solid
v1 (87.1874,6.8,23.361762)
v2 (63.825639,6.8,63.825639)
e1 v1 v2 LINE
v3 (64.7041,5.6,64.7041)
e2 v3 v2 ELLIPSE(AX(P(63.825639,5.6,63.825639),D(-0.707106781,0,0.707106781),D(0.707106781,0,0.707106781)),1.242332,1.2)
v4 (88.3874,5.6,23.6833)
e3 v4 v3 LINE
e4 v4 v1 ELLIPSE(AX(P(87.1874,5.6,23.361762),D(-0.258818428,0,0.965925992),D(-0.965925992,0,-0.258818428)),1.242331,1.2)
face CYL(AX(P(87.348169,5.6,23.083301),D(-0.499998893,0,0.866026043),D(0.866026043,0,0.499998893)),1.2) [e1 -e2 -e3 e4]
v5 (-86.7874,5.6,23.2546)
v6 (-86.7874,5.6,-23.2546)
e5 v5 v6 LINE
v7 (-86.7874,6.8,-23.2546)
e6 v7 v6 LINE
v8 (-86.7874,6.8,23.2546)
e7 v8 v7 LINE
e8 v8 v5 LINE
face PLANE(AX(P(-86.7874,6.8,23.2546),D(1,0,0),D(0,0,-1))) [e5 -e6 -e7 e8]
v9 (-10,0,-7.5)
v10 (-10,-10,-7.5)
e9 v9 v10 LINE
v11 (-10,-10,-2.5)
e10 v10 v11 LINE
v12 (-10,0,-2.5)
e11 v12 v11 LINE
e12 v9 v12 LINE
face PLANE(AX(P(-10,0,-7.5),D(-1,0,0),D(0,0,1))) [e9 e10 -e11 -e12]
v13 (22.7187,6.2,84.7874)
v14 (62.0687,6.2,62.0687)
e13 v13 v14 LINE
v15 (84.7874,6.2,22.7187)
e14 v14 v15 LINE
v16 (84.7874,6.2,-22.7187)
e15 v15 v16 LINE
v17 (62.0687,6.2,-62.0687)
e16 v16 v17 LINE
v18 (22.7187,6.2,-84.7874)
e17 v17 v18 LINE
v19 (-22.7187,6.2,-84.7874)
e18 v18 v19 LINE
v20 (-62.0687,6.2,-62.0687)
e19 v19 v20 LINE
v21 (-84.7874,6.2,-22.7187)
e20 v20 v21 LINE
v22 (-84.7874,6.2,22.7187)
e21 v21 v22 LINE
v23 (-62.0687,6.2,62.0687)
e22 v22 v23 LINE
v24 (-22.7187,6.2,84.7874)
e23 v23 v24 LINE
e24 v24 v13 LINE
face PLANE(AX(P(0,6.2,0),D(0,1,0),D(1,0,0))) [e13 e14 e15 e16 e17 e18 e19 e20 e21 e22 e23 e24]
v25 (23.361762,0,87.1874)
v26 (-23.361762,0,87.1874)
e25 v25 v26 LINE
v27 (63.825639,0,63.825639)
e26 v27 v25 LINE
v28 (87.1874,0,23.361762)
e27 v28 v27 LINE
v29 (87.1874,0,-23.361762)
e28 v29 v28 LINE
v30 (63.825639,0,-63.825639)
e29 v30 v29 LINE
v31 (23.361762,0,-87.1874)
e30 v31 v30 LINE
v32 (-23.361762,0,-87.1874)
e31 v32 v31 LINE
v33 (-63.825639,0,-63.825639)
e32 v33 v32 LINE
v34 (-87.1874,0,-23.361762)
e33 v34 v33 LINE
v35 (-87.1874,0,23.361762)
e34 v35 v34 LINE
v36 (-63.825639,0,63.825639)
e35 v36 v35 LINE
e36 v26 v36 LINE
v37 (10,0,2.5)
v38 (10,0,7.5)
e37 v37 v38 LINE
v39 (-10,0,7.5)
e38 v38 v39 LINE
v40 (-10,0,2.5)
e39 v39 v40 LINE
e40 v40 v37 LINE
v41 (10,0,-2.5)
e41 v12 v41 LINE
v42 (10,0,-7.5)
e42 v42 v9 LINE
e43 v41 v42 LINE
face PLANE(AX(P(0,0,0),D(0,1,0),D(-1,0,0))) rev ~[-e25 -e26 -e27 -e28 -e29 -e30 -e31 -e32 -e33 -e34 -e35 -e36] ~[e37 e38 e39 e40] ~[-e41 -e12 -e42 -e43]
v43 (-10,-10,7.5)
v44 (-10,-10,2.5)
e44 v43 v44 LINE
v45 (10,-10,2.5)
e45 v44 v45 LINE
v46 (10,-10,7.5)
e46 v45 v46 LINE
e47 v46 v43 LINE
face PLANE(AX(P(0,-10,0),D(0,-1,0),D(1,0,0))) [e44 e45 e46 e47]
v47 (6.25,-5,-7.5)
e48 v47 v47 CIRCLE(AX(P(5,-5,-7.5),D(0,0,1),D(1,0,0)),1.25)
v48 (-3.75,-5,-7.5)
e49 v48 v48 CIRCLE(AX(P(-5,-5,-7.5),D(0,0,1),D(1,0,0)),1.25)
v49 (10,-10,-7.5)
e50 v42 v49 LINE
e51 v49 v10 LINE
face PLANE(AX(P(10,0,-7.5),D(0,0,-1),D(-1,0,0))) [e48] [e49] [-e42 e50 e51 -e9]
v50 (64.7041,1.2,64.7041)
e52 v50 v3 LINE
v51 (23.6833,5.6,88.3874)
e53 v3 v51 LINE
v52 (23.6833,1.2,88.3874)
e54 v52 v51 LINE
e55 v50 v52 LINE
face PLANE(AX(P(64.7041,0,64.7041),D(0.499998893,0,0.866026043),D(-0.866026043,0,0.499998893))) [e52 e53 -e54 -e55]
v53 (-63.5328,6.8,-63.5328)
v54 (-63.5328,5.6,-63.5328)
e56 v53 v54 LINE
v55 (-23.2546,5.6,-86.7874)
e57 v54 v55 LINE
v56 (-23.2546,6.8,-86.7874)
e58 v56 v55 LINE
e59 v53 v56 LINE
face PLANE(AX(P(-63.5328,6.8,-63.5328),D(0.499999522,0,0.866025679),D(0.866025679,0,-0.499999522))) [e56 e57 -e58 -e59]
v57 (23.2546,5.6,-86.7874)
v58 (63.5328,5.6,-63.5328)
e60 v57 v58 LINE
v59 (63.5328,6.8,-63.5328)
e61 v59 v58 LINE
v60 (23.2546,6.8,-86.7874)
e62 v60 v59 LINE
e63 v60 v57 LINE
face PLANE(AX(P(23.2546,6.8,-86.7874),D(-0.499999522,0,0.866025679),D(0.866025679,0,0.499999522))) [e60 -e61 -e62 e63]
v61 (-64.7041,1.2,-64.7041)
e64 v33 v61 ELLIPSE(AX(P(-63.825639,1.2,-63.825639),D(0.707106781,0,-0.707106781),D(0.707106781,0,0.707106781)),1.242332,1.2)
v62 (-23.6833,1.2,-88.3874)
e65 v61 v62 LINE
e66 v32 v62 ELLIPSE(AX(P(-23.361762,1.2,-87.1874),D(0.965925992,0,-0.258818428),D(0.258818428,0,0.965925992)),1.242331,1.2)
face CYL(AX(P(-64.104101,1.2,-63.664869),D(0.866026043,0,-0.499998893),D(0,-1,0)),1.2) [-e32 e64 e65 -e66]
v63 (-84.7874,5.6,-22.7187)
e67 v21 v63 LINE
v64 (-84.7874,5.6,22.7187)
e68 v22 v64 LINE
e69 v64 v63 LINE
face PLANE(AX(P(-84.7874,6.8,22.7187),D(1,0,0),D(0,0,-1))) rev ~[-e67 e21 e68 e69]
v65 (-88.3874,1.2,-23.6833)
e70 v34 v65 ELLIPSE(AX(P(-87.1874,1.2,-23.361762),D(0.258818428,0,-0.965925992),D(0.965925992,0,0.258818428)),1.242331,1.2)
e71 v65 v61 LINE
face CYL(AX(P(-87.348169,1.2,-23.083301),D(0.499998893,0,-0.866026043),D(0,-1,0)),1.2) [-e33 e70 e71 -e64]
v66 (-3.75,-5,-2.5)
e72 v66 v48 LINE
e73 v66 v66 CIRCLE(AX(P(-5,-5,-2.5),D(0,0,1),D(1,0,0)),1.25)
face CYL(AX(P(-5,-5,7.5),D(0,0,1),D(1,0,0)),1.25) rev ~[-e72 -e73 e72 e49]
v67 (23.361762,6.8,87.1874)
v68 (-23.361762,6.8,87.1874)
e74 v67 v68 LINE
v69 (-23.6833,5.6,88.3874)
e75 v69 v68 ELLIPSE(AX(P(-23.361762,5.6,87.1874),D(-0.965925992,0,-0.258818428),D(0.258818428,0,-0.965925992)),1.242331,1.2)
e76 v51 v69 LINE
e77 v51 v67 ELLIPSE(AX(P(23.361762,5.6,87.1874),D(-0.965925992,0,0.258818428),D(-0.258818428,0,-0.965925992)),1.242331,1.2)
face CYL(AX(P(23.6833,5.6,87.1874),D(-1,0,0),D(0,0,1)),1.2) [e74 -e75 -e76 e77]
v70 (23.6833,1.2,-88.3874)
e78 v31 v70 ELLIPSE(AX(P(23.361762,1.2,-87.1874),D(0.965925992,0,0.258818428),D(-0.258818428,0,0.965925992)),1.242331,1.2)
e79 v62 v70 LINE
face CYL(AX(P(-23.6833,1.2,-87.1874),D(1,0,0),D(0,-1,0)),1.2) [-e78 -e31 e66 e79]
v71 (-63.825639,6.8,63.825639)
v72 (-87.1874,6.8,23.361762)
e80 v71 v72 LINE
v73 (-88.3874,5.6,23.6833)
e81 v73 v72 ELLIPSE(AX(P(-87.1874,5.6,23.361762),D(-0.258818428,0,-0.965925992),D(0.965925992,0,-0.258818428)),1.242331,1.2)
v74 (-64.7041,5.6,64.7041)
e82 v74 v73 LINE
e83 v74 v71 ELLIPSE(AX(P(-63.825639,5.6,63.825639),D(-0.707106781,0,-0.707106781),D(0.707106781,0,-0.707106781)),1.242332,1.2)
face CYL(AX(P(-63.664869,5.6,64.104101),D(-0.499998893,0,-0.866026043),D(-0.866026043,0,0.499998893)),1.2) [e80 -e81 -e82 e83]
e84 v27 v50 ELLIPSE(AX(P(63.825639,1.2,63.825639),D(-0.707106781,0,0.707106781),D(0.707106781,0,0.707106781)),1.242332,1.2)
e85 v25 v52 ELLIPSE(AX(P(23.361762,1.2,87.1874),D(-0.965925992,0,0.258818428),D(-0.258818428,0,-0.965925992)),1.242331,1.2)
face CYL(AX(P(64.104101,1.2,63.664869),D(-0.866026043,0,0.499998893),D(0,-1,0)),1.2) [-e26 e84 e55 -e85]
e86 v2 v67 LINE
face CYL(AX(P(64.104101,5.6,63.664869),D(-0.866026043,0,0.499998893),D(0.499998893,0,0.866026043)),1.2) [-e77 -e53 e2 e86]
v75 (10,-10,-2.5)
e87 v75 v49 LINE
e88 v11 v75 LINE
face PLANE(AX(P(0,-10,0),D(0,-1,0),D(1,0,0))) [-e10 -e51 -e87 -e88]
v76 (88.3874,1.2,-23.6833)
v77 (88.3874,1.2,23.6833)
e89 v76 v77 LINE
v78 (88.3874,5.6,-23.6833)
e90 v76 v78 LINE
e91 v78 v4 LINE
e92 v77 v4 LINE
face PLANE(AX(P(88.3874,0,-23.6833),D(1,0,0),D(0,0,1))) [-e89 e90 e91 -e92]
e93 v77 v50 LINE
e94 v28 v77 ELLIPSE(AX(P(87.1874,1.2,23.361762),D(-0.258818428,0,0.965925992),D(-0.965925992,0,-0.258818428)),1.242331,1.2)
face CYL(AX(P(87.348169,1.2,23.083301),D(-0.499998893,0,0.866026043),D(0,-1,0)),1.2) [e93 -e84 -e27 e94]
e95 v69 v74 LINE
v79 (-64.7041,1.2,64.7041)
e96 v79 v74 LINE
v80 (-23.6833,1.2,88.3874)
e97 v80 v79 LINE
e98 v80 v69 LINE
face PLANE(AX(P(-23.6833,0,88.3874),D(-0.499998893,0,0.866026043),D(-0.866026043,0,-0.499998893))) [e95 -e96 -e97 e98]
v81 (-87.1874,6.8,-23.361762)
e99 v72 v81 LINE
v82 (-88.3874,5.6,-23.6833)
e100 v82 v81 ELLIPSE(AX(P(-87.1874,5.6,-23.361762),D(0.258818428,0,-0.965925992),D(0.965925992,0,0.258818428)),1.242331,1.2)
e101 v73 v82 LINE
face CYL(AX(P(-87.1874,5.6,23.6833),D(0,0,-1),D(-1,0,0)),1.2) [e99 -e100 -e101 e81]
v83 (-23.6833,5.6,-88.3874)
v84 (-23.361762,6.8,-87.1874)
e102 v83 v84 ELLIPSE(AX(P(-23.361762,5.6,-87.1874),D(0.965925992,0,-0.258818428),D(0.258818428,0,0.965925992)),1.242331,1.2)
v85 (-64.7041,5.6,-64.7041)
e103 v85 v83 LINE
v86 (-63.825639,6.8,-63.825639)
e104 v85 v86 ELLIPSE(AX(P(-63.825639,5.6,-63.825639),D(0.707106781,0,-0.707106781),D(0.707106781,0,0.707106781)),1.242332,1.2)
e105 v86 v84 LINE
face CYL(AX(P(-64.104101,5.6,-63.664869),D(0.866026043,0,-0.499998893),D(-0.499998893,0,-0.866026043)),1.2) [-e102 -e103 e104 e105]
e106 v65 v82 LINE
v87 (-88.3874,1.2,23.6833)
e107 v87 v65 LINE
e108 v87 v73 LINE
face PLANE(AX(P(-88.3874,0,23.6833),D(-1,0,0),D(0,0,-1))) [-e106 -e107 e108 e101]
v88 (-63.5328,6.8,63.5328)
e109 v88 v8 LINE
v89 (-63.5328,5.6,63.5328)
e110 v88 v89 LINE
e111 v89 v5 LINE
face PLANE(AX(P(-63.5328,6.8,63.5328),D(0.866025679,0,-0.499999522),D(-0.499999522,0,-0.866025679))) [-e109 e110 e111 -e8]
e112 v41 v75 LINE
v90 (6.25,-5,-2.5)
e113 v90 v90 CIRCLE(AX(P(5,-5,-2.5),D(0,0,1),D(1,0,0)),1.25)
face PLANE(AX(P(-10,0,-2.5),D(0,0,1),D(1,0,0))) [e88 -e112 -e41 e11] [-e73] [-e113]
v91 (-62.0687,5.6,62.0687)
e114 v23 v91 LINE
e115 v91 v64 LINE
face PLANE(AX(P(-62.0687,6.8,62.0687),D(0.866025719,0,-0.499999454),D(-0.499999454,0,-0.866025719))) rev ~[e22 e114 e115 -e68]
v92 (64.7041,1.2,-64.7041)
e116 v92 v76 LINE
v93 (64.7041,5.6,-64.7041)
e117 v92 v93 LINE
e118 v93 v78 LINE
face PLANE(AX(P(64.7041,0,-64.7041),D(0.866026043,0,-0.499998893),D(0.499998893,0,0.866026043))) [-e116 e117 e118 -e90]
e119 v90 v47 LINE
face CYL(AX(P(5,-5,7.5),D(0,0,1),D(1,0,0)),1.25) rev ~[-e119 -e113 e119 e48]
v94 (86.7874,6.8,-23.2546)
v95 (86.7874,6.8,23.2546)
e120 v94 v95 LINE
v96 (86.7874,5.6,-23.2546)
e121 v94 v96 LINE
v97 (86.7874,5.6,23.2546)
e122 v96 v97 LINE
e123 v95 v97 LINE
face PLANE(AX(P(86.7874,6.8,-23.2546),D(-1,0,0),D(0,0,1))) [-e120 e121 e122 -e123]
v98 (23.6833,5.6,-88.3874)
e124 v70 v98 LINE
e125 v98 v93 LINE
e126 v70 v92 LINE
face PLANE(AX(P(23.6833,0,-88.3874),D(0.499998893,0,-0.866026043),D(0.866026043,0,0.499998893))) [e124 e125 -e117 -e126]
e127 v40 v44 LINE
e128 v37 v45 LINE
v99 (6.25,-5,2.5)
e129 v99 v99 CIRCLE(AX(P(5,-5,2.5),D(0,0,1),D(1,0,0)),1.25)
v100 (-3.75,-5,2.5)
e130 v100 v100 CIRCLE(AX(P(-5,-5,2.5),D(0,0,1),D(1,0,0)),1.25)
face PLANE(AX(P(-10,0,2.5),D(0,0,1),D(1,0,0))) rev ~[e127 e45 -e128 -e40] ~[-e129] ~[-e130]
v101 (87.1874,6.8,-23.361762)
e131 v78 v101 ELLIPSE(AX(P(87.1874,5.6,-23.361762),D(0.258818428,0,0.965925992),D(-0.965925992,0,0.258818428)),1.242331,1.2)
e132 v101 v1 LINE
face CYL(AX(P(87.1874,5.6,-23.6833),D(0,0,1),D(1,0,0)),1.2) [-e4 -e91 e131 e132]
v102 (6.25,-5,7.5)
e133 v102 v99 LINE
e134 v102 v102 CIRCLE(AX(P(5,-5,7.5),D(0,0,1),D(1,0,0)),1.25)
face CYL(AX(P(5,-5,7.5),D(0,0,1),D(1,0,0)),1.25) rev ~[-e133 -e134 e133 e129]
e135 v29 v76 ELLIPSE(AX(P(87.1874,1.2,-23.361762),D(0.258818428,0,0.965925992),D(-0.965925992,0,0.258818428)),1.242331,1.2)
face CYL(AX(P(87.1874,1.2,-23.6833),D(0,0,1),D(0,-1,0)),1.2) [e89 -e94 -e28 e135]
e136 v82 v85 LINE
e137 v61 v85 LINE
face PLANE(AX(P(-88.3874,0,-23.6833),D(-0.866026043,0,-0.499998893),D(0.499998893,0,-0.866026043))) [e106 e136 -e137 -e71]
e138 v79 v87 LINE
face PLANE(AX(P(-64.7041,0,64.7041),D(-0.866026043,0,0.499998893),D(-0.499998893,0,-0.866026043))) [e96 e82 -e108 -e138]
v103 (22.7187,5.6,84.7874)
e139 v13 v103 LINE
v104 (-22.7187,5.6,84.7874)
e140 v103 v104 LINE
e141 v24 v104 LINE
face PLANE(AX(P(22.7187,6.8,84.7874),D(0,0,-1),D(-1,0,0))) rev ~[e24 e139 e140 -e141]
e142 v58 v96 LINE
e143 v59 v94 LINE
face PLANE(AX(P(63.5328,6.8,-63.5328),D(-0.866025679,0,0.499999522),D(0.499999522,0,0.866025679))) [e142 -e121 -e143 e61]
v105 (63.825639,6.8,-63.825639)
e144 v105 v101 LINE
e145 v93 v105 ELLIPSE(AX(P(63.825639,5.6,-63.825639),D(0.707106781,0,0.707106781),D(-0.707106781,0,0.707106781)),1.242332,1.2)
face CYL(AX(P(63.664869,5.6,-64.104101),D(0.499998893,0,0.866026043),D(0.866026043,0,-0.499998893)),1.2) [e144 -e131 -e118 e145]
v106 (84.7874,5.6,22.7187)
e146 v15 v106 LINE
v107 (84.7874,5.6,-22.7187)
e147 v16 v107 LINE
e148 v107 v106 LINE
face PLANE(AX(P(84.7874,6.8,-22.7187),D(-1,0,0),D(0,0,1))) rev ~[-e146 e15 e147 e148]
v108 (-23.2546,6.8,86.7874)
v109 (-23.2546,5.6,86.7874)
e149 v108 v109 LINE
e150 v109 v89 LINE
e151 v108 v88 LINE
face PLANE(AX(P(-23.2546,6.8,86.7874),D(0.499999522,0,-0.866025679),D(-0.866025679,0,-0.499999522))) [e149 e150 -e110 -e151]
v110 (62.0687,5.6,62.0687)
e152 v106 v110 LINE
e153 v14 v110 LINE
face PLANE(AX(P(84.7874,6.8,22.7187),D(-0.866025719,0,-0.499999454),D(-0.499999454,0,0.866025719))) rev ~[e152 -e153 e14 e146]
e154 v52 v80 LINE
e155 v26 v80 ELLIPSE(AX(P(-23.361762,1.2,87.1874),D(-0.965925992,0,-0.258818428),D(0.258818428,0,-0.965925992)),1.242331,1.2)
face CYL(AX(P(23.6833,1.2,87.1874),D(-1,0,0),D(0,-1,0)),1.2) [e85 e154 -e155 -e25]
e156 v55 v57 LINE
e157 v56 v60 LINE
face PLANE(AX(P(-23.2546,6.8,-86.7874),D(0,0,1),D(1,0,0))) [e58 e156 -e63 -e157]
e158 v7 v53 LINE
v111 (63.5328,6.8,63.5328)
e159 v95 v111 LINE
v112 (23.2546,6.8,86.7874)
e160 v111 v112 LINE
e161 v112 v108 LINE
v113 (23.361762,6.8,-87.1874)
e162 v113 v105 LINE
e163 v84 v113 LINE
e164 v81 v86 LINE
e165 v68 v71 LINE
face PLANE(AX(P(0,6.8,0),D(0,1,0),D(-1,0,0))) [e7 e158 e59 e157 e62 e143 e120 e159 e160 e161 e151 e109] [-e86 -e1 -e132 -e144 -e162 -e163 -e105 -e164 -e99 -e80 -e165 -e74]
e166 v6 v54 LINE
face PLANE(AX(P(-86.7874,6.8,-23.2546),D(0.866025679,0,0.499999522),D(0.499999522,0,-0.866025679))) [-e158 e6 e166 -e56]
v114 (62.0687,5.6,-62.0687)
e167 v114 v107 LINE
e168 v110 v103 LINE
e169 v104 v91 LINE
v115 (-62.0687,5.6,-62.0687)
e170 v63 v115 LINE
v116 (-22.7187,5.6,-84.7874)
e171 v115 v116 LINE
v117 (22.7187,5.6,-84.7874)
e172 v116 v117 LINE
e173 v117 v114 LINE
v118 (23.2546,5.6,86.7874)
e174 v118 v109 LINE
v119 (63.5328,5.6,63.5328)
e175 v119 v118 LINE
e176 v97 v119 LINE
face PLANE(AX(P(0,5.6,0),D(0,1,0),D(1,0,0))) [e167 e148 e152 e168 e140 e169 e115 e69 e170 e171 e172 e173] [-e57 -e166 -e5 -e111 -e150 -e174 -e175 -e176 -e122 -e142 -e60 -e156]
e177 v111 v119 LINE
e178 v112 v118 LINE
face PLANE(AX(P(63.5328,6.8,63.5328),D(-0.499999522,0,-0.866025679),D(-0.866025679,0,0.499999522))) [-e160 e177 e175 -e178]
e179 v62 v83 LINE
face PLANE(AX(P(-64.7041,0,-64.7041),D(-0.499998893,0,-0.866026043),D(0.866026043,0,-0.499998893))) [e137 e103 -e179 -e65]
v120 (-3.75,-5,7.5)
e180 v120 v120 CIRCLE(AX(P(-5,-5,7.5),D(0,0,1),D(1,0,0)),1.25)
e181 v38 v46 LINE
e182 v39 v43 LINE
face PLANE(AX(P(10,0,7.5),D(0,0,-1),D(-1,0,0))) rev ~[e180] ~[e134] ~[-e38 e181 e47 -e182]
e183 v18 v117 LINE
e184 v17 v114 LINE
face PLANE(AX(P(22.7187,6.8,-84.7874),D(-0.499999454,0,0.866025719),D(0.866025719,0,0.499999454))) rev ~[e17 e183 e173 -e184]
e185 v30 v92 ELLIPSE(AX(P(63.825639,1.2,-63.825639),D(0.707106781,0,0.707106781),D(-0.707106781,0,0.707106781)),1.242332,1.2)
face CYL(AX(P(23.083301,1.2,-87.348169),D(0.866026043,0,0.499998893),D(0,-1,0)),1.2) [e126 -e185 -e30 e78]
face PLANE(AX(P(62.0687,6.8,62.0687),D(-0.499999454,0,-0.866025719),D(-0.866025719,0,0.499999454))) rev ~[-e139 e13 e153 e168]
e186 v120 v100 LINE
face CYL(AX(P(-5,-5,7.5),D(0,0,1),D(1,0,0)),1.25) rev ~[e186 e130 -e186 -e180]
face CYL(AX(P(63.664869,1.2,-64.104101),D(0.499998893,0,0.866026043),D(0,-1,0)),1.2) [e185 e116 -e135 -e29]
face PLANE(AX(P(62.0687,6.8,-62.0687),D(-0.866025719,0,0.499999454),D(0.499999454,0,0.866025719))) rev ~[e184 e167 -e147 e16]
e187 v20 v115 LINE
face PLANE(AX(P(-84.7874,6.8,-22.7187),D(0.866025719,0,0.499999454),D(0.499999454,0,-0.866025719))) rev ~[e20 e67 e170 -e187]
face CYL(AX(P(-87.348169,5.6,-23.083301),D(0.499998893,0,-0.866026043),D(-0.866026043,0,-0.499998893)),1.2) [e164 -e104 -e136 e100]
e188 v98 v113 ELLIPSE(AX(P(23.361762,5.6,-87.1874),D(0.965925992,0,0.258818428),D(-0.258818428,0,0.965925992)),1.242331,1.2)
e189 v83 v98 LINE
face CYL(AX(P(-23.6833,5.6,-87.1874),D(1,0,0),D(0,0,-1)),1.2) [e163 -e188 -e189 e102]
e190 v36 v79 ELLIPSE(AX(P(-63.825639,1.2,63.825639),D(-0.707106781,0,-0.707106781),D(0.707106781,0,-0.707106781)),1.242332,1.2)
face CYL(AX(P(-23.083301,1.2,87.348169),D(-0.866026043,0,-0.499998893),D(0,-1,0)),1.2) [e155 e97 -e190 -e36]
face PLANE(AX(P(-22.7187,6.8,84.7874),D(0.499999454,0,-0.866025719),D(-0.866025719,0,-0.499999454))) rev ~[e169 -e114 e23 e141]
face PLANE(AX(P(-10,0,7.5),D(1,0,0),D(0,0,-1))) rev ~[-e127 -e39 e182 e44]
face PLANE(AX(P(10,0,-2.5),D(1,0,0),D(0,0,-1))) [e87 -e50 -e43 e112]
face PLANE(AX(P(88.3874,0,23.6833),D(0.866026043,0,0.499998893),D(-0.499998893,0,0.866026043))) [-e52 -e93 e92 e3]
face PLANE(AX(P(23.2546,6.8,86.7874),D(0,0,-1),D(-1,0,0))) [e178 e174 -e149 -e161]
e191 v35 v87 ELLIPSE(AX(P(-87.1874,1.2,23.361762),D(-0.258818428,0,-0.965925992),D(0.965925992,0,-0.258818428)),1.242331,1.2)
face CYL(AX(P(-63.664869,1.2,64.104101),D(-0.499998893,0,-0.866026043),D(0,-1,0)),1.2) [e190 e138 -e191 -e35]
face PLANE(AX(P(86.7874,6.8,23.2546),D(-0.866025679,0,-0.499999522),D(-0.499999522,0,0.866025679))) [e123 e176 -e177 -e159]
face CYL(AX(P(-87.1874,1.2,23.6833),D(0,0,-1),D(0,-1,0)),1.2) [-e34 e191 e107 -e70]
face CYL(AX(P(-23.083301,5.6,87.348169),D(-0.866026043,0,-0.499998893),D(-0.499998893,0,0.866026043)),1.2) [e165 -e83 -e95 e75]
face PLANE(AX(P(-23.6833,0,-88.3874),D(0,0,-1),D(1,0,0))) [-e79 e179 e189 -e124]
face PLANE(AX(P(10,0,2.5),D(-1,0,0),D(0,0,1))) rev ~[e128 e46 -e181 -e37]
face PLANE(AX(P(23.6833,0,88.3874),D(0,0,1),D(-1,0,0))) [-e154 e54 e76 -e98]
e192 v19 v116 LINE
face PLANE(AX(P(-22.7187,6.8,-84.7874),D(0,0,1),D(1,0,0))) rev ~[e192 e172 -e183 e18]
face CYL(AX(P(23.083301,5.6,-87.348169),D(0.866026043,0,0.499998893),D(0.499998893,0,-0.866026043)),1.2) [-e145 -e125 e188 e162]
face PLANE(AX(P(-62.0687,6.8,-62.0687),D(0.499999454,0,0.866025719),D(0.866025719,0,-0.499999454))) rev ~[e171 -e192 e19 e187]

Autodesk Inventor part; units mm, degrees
ref_plane "YZ Plane" through (0, 0, 0) normal (1, 0, 0) x (0, 1, 0)
ref_plane "XZ Plane" through (0, 0, 0) normal (0, 1, 0) x (-1, 0, 0)
ref_plane "XY Plane" through (0, 0, 0) normal (0, 0, 1) x (1, 0, 0)
sketch "스케치1" plane through (0, 0, 0) normal (0, 1, 0) x (-1, 0, 0)
  line L0 (-62.3615, 62.3615) -> (-22.8259, 85.1874)
  line L1 (-22.8259, 85.1874) -> (22.8259, 85.1874)
  line L2 (22.8259, 85.1874) -> (62.3615, 62.3615)
  line L3 (62.3615, 62.3615) -> (85.1874, 22.8259)
  line L4 (85.1874, 22.8259) -> (85.1874, -22.8259)
  line L5 (85.1874, -22.8259) -> (62.3615, -62.3615)
  line L6 (62.3615, -62.3615) -> (22.8259, -85.1874)
  line L7 (22.8259, -85.1874) -> (-22.8259, -85.1874)
  line L8 (-22.8259, -85.1874) -> (-62.3615, -62.3615)
  line L9 (-62.3615, -62.3615) -> (-85.1874, -22.8259)
  line L10 (-85.1874, -22.8259) -> (-85.1874, 22.8259)
  line L11 (-85.1874, 22.8259) -> (-62.3615, 62.3615)
  line L12 (88.3874, -23.6833) -> (64.7041, -64.7041)
  line L13 (64.7041, -64.7041) -> (23.6833, -88.3874)
  line L14 (23.6833, -88.3874) -> (-23.6833, -88.3874)
  line L15 (-23.6833, -88.3874) -> (-64.7041, -64.7041)
  line L16 (-64.7041, -64.7041) -> (-88.3874, -23.6833)
  line L17 (-88.3874, -23.6833) -> (-88.3874, 23.6833)
  line L18 (-88.3874, 23.6833) -> (-64.7041, 64.7041)
  line L19 (-64.7041, 64.7041) -> (-23.6833, 88.3874)
  line L20 (-23.6833, 88.3874) -> (23.6833, 88.3874)
  line L21 (23.6833, 88.3874) -> (64.7041, 64.7041)
  line L22 (64.7041, 64.7041) -> (88.3874, 23.6833)
  line L23 (88.3874, 23.6833) -> (88.3874, -23.6833)
  point P0 (0, 0)
  point P1 (0, 0)
  point P2 (0, 0)
  dimension "d0" = 176.385
  dimension "d1" = 3.2
extrude "돌출1" add sketch "스케치1" along normal blind 6.8 contours L0 L1 L2 L3 L4 L5 L6 L7 L8 L9 L10 L11 | L12 L13 L14 L15 L16 L17 L18 L19 L20 L21 L22 L23
sketch "스케치2" plane through (0, 6.8, 0) normal (0, 1, 0) x (1, 0, 0)
  line L0 (-23.2546, 86.7874) -> (23.2546, 86.7874)
  line L1 (23.2546, 86.7874) -> (63.5328, 63.5328)
  line L2 (63.5328, 63.5328) -> (86.7874, 23.2546)
  line L3 (86.7874, 23.2546) -> (86.7874, -23.2546)
  line L4 (86.7874, -23.2546) -> (63.5328, -63.5328)
  line L5 (63.5328, -63.5328) -> (23.2546, -86.7874)
  line L6 (23.2546, -86.7874) -> (-23.2546, -86.7874)
  line L7 (-23.2546, -86.7874) -> (-63.5328, -63.5328)
  line L8 (-63.5328, -63.5328) -> (-86.7874, -23.2546)
  line L9 (-86.7874, -23.2546) -> (-86.7874, 23.2546)
  line L10 (-86.7874, 23.2546) -> (-63.5328, 63.5328)
  line L11 (-63.5328, 63.5328) -> (-23.2546, 86.7874)
  line L12 (-88.3874, 23.6833) -> (-88.3874, -23.6833) projected
  line L13 (22.7187, -84.7874) -> (-22.7187, -84.7874)
  line L14 (-22.7187, -84.7874) -> (-62.0687, -62.0687)
  line L15 (-62.0687, -62.0687) -> (-84.7874, -22.7187)
  line L16 (-84.7874, -22.7187) -> (-84.7874, 22.7187)
  line L17 (-84.7874, 22.7187) -> (-62.0687, 62.0687)
  line L18 (-62.0687, 62.0687) -> (-22.7187, 84.7874)
  line L19 (-22.7187, 84.7874) -> (22.7187, 84.7874)
  line L20 (22.7187, 84.7874) -> (62.0687, 62.0687)
  line L21 (62.0687, 62.0687) -> (84.7874, 22.7187)
  line L22 (84.7874, 22.7187) -> (84.7874, -22.7187)
  line L23 (84.7874, -22.7187) -> (62.0687, -62.0687)
  line L24 (62.0687, -62.0687) -> (22.7187, -84.7874)
  point P0 (0, 0)
  point P1 (0, 0)
  point P2 (0, 0)
  dimension "d4" = 1.6
  dimension "d5" = 2
extrude "돌출2" cut sketch "스케치2" against normal blind 1.2
sketch "스케치5" plane through (0, 6.8, 0) normal (0, 1, 0) x (1, 0, 0)
  line L0 (-62.0687, -62.0687) -> (-22.7187, -84.7874) projected
  line L1 (-22.7187, -84.7874) -> (22.7187, -84.7874) projected
  line L2 (22.7187, -84.7874) -> (62.0687, -62.0687) projected
  line L3 (62.0687, -62.0687) -> (84.7874, -22.7187) projected
  line L4 (84.7874, -22.7187) -> (84.7874, 22.7187) projected
  line L5 (84.7874, 22.7187) -> (62.0687, 62.0687) projected
  line L6 (62.0687, 62.0687) -> (22.7187, 84.7874) projected
  line L7 (22.7187, 84.7874) -> (-22.7187, 84.7874) projected
  line L8 (-22.7187, 84.7874) -> (-62.0687, 62.0687) projected
  line L9 (-62.0687, 62.0687) -> (-84.7874, 22.7187) projected
  line L10 (-84.7874, 22.7187) -> (-84.7874, -22.7187) projected
  line L11 (-84.7874, -22.7187) -> (-62.0687, -62.0687) projected
  point P0 (0, 0)
extrude "돌출5" cut sketch "스케치5" against normal blind 0.6
fillet "모깎기1" radius 1.2 24 edges at (76.5457, 0, 44.1937) (76.5457, 6.8, 44.1937) (88.3874, 6.8, 0) (88.3874, 0, 0) (76.5457, 6.8, -44.1937) (76.5457, 0, -44.1937) (44.1937, 6.8, -76.5457) (44.1937, 0, -76.5457) (0, 0, -88.3874) (0, 6.8, -88.3874) (-44.1937, 6.8, -76.5457) (-44.1937, 0, -76.5457) (-76.5457, 0, -44.1937) (-76.5457, 6.8, -44.1937) (-88.3874, 0, 0) (-88.3874, 6.8, 0) (-76.5457, 0, 44.1937) (-76.5457, 6.8, 44.1937) (-44.1937, 0, 76.5457) (-44.1937, 6.8, 76.5457) (0, 0, 88.3874) (0, 6.8, 88.3874) (44.1937, 0, 76.5457) (44.1937, 6.8, 76.5457)
sketch "스케치7" plane through (0, 0, 0) normal (0, -1, 0) x (1, 0, 0)
  line L0 (10, -7.5) -> (-10, -7.5)
  line L1 (-10, -7.5) -> (-10, -2.5)
  line L2 (-10, -2.5) -> (10, -2.5)
  line L3 (10, -2.5) -> (10, -7.5)
  line L4 (10, -7.5) -> (-10, -2.5) construction
  line L5 (-10, -7.5) -> (10, -2.5) construction
  line L6 (0, 0) -> (-24.3026, 0)
  line L7 (10, 7.5) -> (-10, 7.5)
  line L8 (-10, 7.5) -> (-10, 2.5)
  line L9 (-10, 2.5) -> (10, 2.5)
  line L10 (10, 2.5) -> (10, 7.5)
  line L11 (10, 7.5) -> (-10, 2.5) construction
  line L12 (-10, 7.5) -> (10, 2.5) construction
  point P0 (0, -5)
  point P1 (0, 5)
  dimension "d26" = 20
  dimension "d27" = 5
  dimension "d28" = 2.5
extrude "돌출7" add sketch "스케치7" along normal blind 10
sketch "스케치8" plane through (-10, 0, 7.5) normal (0, 0, 1) x (1, 0, 0)
  circle A0 centre (15, -5) radius 1.25
  line L0 (-13.3618, 0) -> (33.3618, 0) projected
  line L1 (20, 0) -> (20, -10) projected
  line L2 (20, -10) -> (0, -10) projected
  line L3 (10, -10) -> (10, 0)
  circle A1 centre (5, -5) radius 1.25
  point P0 (20, -5)
  dimension "d31" = 2.5
  dimension "d32" = 5
  dimension "d33" = 5
extrude "돌출8" cut sketch "스케치8" against normal up to surface (15 mm away) contours A0 | A1
properties part number "(x2)_POSPA_Large_Bottom"
